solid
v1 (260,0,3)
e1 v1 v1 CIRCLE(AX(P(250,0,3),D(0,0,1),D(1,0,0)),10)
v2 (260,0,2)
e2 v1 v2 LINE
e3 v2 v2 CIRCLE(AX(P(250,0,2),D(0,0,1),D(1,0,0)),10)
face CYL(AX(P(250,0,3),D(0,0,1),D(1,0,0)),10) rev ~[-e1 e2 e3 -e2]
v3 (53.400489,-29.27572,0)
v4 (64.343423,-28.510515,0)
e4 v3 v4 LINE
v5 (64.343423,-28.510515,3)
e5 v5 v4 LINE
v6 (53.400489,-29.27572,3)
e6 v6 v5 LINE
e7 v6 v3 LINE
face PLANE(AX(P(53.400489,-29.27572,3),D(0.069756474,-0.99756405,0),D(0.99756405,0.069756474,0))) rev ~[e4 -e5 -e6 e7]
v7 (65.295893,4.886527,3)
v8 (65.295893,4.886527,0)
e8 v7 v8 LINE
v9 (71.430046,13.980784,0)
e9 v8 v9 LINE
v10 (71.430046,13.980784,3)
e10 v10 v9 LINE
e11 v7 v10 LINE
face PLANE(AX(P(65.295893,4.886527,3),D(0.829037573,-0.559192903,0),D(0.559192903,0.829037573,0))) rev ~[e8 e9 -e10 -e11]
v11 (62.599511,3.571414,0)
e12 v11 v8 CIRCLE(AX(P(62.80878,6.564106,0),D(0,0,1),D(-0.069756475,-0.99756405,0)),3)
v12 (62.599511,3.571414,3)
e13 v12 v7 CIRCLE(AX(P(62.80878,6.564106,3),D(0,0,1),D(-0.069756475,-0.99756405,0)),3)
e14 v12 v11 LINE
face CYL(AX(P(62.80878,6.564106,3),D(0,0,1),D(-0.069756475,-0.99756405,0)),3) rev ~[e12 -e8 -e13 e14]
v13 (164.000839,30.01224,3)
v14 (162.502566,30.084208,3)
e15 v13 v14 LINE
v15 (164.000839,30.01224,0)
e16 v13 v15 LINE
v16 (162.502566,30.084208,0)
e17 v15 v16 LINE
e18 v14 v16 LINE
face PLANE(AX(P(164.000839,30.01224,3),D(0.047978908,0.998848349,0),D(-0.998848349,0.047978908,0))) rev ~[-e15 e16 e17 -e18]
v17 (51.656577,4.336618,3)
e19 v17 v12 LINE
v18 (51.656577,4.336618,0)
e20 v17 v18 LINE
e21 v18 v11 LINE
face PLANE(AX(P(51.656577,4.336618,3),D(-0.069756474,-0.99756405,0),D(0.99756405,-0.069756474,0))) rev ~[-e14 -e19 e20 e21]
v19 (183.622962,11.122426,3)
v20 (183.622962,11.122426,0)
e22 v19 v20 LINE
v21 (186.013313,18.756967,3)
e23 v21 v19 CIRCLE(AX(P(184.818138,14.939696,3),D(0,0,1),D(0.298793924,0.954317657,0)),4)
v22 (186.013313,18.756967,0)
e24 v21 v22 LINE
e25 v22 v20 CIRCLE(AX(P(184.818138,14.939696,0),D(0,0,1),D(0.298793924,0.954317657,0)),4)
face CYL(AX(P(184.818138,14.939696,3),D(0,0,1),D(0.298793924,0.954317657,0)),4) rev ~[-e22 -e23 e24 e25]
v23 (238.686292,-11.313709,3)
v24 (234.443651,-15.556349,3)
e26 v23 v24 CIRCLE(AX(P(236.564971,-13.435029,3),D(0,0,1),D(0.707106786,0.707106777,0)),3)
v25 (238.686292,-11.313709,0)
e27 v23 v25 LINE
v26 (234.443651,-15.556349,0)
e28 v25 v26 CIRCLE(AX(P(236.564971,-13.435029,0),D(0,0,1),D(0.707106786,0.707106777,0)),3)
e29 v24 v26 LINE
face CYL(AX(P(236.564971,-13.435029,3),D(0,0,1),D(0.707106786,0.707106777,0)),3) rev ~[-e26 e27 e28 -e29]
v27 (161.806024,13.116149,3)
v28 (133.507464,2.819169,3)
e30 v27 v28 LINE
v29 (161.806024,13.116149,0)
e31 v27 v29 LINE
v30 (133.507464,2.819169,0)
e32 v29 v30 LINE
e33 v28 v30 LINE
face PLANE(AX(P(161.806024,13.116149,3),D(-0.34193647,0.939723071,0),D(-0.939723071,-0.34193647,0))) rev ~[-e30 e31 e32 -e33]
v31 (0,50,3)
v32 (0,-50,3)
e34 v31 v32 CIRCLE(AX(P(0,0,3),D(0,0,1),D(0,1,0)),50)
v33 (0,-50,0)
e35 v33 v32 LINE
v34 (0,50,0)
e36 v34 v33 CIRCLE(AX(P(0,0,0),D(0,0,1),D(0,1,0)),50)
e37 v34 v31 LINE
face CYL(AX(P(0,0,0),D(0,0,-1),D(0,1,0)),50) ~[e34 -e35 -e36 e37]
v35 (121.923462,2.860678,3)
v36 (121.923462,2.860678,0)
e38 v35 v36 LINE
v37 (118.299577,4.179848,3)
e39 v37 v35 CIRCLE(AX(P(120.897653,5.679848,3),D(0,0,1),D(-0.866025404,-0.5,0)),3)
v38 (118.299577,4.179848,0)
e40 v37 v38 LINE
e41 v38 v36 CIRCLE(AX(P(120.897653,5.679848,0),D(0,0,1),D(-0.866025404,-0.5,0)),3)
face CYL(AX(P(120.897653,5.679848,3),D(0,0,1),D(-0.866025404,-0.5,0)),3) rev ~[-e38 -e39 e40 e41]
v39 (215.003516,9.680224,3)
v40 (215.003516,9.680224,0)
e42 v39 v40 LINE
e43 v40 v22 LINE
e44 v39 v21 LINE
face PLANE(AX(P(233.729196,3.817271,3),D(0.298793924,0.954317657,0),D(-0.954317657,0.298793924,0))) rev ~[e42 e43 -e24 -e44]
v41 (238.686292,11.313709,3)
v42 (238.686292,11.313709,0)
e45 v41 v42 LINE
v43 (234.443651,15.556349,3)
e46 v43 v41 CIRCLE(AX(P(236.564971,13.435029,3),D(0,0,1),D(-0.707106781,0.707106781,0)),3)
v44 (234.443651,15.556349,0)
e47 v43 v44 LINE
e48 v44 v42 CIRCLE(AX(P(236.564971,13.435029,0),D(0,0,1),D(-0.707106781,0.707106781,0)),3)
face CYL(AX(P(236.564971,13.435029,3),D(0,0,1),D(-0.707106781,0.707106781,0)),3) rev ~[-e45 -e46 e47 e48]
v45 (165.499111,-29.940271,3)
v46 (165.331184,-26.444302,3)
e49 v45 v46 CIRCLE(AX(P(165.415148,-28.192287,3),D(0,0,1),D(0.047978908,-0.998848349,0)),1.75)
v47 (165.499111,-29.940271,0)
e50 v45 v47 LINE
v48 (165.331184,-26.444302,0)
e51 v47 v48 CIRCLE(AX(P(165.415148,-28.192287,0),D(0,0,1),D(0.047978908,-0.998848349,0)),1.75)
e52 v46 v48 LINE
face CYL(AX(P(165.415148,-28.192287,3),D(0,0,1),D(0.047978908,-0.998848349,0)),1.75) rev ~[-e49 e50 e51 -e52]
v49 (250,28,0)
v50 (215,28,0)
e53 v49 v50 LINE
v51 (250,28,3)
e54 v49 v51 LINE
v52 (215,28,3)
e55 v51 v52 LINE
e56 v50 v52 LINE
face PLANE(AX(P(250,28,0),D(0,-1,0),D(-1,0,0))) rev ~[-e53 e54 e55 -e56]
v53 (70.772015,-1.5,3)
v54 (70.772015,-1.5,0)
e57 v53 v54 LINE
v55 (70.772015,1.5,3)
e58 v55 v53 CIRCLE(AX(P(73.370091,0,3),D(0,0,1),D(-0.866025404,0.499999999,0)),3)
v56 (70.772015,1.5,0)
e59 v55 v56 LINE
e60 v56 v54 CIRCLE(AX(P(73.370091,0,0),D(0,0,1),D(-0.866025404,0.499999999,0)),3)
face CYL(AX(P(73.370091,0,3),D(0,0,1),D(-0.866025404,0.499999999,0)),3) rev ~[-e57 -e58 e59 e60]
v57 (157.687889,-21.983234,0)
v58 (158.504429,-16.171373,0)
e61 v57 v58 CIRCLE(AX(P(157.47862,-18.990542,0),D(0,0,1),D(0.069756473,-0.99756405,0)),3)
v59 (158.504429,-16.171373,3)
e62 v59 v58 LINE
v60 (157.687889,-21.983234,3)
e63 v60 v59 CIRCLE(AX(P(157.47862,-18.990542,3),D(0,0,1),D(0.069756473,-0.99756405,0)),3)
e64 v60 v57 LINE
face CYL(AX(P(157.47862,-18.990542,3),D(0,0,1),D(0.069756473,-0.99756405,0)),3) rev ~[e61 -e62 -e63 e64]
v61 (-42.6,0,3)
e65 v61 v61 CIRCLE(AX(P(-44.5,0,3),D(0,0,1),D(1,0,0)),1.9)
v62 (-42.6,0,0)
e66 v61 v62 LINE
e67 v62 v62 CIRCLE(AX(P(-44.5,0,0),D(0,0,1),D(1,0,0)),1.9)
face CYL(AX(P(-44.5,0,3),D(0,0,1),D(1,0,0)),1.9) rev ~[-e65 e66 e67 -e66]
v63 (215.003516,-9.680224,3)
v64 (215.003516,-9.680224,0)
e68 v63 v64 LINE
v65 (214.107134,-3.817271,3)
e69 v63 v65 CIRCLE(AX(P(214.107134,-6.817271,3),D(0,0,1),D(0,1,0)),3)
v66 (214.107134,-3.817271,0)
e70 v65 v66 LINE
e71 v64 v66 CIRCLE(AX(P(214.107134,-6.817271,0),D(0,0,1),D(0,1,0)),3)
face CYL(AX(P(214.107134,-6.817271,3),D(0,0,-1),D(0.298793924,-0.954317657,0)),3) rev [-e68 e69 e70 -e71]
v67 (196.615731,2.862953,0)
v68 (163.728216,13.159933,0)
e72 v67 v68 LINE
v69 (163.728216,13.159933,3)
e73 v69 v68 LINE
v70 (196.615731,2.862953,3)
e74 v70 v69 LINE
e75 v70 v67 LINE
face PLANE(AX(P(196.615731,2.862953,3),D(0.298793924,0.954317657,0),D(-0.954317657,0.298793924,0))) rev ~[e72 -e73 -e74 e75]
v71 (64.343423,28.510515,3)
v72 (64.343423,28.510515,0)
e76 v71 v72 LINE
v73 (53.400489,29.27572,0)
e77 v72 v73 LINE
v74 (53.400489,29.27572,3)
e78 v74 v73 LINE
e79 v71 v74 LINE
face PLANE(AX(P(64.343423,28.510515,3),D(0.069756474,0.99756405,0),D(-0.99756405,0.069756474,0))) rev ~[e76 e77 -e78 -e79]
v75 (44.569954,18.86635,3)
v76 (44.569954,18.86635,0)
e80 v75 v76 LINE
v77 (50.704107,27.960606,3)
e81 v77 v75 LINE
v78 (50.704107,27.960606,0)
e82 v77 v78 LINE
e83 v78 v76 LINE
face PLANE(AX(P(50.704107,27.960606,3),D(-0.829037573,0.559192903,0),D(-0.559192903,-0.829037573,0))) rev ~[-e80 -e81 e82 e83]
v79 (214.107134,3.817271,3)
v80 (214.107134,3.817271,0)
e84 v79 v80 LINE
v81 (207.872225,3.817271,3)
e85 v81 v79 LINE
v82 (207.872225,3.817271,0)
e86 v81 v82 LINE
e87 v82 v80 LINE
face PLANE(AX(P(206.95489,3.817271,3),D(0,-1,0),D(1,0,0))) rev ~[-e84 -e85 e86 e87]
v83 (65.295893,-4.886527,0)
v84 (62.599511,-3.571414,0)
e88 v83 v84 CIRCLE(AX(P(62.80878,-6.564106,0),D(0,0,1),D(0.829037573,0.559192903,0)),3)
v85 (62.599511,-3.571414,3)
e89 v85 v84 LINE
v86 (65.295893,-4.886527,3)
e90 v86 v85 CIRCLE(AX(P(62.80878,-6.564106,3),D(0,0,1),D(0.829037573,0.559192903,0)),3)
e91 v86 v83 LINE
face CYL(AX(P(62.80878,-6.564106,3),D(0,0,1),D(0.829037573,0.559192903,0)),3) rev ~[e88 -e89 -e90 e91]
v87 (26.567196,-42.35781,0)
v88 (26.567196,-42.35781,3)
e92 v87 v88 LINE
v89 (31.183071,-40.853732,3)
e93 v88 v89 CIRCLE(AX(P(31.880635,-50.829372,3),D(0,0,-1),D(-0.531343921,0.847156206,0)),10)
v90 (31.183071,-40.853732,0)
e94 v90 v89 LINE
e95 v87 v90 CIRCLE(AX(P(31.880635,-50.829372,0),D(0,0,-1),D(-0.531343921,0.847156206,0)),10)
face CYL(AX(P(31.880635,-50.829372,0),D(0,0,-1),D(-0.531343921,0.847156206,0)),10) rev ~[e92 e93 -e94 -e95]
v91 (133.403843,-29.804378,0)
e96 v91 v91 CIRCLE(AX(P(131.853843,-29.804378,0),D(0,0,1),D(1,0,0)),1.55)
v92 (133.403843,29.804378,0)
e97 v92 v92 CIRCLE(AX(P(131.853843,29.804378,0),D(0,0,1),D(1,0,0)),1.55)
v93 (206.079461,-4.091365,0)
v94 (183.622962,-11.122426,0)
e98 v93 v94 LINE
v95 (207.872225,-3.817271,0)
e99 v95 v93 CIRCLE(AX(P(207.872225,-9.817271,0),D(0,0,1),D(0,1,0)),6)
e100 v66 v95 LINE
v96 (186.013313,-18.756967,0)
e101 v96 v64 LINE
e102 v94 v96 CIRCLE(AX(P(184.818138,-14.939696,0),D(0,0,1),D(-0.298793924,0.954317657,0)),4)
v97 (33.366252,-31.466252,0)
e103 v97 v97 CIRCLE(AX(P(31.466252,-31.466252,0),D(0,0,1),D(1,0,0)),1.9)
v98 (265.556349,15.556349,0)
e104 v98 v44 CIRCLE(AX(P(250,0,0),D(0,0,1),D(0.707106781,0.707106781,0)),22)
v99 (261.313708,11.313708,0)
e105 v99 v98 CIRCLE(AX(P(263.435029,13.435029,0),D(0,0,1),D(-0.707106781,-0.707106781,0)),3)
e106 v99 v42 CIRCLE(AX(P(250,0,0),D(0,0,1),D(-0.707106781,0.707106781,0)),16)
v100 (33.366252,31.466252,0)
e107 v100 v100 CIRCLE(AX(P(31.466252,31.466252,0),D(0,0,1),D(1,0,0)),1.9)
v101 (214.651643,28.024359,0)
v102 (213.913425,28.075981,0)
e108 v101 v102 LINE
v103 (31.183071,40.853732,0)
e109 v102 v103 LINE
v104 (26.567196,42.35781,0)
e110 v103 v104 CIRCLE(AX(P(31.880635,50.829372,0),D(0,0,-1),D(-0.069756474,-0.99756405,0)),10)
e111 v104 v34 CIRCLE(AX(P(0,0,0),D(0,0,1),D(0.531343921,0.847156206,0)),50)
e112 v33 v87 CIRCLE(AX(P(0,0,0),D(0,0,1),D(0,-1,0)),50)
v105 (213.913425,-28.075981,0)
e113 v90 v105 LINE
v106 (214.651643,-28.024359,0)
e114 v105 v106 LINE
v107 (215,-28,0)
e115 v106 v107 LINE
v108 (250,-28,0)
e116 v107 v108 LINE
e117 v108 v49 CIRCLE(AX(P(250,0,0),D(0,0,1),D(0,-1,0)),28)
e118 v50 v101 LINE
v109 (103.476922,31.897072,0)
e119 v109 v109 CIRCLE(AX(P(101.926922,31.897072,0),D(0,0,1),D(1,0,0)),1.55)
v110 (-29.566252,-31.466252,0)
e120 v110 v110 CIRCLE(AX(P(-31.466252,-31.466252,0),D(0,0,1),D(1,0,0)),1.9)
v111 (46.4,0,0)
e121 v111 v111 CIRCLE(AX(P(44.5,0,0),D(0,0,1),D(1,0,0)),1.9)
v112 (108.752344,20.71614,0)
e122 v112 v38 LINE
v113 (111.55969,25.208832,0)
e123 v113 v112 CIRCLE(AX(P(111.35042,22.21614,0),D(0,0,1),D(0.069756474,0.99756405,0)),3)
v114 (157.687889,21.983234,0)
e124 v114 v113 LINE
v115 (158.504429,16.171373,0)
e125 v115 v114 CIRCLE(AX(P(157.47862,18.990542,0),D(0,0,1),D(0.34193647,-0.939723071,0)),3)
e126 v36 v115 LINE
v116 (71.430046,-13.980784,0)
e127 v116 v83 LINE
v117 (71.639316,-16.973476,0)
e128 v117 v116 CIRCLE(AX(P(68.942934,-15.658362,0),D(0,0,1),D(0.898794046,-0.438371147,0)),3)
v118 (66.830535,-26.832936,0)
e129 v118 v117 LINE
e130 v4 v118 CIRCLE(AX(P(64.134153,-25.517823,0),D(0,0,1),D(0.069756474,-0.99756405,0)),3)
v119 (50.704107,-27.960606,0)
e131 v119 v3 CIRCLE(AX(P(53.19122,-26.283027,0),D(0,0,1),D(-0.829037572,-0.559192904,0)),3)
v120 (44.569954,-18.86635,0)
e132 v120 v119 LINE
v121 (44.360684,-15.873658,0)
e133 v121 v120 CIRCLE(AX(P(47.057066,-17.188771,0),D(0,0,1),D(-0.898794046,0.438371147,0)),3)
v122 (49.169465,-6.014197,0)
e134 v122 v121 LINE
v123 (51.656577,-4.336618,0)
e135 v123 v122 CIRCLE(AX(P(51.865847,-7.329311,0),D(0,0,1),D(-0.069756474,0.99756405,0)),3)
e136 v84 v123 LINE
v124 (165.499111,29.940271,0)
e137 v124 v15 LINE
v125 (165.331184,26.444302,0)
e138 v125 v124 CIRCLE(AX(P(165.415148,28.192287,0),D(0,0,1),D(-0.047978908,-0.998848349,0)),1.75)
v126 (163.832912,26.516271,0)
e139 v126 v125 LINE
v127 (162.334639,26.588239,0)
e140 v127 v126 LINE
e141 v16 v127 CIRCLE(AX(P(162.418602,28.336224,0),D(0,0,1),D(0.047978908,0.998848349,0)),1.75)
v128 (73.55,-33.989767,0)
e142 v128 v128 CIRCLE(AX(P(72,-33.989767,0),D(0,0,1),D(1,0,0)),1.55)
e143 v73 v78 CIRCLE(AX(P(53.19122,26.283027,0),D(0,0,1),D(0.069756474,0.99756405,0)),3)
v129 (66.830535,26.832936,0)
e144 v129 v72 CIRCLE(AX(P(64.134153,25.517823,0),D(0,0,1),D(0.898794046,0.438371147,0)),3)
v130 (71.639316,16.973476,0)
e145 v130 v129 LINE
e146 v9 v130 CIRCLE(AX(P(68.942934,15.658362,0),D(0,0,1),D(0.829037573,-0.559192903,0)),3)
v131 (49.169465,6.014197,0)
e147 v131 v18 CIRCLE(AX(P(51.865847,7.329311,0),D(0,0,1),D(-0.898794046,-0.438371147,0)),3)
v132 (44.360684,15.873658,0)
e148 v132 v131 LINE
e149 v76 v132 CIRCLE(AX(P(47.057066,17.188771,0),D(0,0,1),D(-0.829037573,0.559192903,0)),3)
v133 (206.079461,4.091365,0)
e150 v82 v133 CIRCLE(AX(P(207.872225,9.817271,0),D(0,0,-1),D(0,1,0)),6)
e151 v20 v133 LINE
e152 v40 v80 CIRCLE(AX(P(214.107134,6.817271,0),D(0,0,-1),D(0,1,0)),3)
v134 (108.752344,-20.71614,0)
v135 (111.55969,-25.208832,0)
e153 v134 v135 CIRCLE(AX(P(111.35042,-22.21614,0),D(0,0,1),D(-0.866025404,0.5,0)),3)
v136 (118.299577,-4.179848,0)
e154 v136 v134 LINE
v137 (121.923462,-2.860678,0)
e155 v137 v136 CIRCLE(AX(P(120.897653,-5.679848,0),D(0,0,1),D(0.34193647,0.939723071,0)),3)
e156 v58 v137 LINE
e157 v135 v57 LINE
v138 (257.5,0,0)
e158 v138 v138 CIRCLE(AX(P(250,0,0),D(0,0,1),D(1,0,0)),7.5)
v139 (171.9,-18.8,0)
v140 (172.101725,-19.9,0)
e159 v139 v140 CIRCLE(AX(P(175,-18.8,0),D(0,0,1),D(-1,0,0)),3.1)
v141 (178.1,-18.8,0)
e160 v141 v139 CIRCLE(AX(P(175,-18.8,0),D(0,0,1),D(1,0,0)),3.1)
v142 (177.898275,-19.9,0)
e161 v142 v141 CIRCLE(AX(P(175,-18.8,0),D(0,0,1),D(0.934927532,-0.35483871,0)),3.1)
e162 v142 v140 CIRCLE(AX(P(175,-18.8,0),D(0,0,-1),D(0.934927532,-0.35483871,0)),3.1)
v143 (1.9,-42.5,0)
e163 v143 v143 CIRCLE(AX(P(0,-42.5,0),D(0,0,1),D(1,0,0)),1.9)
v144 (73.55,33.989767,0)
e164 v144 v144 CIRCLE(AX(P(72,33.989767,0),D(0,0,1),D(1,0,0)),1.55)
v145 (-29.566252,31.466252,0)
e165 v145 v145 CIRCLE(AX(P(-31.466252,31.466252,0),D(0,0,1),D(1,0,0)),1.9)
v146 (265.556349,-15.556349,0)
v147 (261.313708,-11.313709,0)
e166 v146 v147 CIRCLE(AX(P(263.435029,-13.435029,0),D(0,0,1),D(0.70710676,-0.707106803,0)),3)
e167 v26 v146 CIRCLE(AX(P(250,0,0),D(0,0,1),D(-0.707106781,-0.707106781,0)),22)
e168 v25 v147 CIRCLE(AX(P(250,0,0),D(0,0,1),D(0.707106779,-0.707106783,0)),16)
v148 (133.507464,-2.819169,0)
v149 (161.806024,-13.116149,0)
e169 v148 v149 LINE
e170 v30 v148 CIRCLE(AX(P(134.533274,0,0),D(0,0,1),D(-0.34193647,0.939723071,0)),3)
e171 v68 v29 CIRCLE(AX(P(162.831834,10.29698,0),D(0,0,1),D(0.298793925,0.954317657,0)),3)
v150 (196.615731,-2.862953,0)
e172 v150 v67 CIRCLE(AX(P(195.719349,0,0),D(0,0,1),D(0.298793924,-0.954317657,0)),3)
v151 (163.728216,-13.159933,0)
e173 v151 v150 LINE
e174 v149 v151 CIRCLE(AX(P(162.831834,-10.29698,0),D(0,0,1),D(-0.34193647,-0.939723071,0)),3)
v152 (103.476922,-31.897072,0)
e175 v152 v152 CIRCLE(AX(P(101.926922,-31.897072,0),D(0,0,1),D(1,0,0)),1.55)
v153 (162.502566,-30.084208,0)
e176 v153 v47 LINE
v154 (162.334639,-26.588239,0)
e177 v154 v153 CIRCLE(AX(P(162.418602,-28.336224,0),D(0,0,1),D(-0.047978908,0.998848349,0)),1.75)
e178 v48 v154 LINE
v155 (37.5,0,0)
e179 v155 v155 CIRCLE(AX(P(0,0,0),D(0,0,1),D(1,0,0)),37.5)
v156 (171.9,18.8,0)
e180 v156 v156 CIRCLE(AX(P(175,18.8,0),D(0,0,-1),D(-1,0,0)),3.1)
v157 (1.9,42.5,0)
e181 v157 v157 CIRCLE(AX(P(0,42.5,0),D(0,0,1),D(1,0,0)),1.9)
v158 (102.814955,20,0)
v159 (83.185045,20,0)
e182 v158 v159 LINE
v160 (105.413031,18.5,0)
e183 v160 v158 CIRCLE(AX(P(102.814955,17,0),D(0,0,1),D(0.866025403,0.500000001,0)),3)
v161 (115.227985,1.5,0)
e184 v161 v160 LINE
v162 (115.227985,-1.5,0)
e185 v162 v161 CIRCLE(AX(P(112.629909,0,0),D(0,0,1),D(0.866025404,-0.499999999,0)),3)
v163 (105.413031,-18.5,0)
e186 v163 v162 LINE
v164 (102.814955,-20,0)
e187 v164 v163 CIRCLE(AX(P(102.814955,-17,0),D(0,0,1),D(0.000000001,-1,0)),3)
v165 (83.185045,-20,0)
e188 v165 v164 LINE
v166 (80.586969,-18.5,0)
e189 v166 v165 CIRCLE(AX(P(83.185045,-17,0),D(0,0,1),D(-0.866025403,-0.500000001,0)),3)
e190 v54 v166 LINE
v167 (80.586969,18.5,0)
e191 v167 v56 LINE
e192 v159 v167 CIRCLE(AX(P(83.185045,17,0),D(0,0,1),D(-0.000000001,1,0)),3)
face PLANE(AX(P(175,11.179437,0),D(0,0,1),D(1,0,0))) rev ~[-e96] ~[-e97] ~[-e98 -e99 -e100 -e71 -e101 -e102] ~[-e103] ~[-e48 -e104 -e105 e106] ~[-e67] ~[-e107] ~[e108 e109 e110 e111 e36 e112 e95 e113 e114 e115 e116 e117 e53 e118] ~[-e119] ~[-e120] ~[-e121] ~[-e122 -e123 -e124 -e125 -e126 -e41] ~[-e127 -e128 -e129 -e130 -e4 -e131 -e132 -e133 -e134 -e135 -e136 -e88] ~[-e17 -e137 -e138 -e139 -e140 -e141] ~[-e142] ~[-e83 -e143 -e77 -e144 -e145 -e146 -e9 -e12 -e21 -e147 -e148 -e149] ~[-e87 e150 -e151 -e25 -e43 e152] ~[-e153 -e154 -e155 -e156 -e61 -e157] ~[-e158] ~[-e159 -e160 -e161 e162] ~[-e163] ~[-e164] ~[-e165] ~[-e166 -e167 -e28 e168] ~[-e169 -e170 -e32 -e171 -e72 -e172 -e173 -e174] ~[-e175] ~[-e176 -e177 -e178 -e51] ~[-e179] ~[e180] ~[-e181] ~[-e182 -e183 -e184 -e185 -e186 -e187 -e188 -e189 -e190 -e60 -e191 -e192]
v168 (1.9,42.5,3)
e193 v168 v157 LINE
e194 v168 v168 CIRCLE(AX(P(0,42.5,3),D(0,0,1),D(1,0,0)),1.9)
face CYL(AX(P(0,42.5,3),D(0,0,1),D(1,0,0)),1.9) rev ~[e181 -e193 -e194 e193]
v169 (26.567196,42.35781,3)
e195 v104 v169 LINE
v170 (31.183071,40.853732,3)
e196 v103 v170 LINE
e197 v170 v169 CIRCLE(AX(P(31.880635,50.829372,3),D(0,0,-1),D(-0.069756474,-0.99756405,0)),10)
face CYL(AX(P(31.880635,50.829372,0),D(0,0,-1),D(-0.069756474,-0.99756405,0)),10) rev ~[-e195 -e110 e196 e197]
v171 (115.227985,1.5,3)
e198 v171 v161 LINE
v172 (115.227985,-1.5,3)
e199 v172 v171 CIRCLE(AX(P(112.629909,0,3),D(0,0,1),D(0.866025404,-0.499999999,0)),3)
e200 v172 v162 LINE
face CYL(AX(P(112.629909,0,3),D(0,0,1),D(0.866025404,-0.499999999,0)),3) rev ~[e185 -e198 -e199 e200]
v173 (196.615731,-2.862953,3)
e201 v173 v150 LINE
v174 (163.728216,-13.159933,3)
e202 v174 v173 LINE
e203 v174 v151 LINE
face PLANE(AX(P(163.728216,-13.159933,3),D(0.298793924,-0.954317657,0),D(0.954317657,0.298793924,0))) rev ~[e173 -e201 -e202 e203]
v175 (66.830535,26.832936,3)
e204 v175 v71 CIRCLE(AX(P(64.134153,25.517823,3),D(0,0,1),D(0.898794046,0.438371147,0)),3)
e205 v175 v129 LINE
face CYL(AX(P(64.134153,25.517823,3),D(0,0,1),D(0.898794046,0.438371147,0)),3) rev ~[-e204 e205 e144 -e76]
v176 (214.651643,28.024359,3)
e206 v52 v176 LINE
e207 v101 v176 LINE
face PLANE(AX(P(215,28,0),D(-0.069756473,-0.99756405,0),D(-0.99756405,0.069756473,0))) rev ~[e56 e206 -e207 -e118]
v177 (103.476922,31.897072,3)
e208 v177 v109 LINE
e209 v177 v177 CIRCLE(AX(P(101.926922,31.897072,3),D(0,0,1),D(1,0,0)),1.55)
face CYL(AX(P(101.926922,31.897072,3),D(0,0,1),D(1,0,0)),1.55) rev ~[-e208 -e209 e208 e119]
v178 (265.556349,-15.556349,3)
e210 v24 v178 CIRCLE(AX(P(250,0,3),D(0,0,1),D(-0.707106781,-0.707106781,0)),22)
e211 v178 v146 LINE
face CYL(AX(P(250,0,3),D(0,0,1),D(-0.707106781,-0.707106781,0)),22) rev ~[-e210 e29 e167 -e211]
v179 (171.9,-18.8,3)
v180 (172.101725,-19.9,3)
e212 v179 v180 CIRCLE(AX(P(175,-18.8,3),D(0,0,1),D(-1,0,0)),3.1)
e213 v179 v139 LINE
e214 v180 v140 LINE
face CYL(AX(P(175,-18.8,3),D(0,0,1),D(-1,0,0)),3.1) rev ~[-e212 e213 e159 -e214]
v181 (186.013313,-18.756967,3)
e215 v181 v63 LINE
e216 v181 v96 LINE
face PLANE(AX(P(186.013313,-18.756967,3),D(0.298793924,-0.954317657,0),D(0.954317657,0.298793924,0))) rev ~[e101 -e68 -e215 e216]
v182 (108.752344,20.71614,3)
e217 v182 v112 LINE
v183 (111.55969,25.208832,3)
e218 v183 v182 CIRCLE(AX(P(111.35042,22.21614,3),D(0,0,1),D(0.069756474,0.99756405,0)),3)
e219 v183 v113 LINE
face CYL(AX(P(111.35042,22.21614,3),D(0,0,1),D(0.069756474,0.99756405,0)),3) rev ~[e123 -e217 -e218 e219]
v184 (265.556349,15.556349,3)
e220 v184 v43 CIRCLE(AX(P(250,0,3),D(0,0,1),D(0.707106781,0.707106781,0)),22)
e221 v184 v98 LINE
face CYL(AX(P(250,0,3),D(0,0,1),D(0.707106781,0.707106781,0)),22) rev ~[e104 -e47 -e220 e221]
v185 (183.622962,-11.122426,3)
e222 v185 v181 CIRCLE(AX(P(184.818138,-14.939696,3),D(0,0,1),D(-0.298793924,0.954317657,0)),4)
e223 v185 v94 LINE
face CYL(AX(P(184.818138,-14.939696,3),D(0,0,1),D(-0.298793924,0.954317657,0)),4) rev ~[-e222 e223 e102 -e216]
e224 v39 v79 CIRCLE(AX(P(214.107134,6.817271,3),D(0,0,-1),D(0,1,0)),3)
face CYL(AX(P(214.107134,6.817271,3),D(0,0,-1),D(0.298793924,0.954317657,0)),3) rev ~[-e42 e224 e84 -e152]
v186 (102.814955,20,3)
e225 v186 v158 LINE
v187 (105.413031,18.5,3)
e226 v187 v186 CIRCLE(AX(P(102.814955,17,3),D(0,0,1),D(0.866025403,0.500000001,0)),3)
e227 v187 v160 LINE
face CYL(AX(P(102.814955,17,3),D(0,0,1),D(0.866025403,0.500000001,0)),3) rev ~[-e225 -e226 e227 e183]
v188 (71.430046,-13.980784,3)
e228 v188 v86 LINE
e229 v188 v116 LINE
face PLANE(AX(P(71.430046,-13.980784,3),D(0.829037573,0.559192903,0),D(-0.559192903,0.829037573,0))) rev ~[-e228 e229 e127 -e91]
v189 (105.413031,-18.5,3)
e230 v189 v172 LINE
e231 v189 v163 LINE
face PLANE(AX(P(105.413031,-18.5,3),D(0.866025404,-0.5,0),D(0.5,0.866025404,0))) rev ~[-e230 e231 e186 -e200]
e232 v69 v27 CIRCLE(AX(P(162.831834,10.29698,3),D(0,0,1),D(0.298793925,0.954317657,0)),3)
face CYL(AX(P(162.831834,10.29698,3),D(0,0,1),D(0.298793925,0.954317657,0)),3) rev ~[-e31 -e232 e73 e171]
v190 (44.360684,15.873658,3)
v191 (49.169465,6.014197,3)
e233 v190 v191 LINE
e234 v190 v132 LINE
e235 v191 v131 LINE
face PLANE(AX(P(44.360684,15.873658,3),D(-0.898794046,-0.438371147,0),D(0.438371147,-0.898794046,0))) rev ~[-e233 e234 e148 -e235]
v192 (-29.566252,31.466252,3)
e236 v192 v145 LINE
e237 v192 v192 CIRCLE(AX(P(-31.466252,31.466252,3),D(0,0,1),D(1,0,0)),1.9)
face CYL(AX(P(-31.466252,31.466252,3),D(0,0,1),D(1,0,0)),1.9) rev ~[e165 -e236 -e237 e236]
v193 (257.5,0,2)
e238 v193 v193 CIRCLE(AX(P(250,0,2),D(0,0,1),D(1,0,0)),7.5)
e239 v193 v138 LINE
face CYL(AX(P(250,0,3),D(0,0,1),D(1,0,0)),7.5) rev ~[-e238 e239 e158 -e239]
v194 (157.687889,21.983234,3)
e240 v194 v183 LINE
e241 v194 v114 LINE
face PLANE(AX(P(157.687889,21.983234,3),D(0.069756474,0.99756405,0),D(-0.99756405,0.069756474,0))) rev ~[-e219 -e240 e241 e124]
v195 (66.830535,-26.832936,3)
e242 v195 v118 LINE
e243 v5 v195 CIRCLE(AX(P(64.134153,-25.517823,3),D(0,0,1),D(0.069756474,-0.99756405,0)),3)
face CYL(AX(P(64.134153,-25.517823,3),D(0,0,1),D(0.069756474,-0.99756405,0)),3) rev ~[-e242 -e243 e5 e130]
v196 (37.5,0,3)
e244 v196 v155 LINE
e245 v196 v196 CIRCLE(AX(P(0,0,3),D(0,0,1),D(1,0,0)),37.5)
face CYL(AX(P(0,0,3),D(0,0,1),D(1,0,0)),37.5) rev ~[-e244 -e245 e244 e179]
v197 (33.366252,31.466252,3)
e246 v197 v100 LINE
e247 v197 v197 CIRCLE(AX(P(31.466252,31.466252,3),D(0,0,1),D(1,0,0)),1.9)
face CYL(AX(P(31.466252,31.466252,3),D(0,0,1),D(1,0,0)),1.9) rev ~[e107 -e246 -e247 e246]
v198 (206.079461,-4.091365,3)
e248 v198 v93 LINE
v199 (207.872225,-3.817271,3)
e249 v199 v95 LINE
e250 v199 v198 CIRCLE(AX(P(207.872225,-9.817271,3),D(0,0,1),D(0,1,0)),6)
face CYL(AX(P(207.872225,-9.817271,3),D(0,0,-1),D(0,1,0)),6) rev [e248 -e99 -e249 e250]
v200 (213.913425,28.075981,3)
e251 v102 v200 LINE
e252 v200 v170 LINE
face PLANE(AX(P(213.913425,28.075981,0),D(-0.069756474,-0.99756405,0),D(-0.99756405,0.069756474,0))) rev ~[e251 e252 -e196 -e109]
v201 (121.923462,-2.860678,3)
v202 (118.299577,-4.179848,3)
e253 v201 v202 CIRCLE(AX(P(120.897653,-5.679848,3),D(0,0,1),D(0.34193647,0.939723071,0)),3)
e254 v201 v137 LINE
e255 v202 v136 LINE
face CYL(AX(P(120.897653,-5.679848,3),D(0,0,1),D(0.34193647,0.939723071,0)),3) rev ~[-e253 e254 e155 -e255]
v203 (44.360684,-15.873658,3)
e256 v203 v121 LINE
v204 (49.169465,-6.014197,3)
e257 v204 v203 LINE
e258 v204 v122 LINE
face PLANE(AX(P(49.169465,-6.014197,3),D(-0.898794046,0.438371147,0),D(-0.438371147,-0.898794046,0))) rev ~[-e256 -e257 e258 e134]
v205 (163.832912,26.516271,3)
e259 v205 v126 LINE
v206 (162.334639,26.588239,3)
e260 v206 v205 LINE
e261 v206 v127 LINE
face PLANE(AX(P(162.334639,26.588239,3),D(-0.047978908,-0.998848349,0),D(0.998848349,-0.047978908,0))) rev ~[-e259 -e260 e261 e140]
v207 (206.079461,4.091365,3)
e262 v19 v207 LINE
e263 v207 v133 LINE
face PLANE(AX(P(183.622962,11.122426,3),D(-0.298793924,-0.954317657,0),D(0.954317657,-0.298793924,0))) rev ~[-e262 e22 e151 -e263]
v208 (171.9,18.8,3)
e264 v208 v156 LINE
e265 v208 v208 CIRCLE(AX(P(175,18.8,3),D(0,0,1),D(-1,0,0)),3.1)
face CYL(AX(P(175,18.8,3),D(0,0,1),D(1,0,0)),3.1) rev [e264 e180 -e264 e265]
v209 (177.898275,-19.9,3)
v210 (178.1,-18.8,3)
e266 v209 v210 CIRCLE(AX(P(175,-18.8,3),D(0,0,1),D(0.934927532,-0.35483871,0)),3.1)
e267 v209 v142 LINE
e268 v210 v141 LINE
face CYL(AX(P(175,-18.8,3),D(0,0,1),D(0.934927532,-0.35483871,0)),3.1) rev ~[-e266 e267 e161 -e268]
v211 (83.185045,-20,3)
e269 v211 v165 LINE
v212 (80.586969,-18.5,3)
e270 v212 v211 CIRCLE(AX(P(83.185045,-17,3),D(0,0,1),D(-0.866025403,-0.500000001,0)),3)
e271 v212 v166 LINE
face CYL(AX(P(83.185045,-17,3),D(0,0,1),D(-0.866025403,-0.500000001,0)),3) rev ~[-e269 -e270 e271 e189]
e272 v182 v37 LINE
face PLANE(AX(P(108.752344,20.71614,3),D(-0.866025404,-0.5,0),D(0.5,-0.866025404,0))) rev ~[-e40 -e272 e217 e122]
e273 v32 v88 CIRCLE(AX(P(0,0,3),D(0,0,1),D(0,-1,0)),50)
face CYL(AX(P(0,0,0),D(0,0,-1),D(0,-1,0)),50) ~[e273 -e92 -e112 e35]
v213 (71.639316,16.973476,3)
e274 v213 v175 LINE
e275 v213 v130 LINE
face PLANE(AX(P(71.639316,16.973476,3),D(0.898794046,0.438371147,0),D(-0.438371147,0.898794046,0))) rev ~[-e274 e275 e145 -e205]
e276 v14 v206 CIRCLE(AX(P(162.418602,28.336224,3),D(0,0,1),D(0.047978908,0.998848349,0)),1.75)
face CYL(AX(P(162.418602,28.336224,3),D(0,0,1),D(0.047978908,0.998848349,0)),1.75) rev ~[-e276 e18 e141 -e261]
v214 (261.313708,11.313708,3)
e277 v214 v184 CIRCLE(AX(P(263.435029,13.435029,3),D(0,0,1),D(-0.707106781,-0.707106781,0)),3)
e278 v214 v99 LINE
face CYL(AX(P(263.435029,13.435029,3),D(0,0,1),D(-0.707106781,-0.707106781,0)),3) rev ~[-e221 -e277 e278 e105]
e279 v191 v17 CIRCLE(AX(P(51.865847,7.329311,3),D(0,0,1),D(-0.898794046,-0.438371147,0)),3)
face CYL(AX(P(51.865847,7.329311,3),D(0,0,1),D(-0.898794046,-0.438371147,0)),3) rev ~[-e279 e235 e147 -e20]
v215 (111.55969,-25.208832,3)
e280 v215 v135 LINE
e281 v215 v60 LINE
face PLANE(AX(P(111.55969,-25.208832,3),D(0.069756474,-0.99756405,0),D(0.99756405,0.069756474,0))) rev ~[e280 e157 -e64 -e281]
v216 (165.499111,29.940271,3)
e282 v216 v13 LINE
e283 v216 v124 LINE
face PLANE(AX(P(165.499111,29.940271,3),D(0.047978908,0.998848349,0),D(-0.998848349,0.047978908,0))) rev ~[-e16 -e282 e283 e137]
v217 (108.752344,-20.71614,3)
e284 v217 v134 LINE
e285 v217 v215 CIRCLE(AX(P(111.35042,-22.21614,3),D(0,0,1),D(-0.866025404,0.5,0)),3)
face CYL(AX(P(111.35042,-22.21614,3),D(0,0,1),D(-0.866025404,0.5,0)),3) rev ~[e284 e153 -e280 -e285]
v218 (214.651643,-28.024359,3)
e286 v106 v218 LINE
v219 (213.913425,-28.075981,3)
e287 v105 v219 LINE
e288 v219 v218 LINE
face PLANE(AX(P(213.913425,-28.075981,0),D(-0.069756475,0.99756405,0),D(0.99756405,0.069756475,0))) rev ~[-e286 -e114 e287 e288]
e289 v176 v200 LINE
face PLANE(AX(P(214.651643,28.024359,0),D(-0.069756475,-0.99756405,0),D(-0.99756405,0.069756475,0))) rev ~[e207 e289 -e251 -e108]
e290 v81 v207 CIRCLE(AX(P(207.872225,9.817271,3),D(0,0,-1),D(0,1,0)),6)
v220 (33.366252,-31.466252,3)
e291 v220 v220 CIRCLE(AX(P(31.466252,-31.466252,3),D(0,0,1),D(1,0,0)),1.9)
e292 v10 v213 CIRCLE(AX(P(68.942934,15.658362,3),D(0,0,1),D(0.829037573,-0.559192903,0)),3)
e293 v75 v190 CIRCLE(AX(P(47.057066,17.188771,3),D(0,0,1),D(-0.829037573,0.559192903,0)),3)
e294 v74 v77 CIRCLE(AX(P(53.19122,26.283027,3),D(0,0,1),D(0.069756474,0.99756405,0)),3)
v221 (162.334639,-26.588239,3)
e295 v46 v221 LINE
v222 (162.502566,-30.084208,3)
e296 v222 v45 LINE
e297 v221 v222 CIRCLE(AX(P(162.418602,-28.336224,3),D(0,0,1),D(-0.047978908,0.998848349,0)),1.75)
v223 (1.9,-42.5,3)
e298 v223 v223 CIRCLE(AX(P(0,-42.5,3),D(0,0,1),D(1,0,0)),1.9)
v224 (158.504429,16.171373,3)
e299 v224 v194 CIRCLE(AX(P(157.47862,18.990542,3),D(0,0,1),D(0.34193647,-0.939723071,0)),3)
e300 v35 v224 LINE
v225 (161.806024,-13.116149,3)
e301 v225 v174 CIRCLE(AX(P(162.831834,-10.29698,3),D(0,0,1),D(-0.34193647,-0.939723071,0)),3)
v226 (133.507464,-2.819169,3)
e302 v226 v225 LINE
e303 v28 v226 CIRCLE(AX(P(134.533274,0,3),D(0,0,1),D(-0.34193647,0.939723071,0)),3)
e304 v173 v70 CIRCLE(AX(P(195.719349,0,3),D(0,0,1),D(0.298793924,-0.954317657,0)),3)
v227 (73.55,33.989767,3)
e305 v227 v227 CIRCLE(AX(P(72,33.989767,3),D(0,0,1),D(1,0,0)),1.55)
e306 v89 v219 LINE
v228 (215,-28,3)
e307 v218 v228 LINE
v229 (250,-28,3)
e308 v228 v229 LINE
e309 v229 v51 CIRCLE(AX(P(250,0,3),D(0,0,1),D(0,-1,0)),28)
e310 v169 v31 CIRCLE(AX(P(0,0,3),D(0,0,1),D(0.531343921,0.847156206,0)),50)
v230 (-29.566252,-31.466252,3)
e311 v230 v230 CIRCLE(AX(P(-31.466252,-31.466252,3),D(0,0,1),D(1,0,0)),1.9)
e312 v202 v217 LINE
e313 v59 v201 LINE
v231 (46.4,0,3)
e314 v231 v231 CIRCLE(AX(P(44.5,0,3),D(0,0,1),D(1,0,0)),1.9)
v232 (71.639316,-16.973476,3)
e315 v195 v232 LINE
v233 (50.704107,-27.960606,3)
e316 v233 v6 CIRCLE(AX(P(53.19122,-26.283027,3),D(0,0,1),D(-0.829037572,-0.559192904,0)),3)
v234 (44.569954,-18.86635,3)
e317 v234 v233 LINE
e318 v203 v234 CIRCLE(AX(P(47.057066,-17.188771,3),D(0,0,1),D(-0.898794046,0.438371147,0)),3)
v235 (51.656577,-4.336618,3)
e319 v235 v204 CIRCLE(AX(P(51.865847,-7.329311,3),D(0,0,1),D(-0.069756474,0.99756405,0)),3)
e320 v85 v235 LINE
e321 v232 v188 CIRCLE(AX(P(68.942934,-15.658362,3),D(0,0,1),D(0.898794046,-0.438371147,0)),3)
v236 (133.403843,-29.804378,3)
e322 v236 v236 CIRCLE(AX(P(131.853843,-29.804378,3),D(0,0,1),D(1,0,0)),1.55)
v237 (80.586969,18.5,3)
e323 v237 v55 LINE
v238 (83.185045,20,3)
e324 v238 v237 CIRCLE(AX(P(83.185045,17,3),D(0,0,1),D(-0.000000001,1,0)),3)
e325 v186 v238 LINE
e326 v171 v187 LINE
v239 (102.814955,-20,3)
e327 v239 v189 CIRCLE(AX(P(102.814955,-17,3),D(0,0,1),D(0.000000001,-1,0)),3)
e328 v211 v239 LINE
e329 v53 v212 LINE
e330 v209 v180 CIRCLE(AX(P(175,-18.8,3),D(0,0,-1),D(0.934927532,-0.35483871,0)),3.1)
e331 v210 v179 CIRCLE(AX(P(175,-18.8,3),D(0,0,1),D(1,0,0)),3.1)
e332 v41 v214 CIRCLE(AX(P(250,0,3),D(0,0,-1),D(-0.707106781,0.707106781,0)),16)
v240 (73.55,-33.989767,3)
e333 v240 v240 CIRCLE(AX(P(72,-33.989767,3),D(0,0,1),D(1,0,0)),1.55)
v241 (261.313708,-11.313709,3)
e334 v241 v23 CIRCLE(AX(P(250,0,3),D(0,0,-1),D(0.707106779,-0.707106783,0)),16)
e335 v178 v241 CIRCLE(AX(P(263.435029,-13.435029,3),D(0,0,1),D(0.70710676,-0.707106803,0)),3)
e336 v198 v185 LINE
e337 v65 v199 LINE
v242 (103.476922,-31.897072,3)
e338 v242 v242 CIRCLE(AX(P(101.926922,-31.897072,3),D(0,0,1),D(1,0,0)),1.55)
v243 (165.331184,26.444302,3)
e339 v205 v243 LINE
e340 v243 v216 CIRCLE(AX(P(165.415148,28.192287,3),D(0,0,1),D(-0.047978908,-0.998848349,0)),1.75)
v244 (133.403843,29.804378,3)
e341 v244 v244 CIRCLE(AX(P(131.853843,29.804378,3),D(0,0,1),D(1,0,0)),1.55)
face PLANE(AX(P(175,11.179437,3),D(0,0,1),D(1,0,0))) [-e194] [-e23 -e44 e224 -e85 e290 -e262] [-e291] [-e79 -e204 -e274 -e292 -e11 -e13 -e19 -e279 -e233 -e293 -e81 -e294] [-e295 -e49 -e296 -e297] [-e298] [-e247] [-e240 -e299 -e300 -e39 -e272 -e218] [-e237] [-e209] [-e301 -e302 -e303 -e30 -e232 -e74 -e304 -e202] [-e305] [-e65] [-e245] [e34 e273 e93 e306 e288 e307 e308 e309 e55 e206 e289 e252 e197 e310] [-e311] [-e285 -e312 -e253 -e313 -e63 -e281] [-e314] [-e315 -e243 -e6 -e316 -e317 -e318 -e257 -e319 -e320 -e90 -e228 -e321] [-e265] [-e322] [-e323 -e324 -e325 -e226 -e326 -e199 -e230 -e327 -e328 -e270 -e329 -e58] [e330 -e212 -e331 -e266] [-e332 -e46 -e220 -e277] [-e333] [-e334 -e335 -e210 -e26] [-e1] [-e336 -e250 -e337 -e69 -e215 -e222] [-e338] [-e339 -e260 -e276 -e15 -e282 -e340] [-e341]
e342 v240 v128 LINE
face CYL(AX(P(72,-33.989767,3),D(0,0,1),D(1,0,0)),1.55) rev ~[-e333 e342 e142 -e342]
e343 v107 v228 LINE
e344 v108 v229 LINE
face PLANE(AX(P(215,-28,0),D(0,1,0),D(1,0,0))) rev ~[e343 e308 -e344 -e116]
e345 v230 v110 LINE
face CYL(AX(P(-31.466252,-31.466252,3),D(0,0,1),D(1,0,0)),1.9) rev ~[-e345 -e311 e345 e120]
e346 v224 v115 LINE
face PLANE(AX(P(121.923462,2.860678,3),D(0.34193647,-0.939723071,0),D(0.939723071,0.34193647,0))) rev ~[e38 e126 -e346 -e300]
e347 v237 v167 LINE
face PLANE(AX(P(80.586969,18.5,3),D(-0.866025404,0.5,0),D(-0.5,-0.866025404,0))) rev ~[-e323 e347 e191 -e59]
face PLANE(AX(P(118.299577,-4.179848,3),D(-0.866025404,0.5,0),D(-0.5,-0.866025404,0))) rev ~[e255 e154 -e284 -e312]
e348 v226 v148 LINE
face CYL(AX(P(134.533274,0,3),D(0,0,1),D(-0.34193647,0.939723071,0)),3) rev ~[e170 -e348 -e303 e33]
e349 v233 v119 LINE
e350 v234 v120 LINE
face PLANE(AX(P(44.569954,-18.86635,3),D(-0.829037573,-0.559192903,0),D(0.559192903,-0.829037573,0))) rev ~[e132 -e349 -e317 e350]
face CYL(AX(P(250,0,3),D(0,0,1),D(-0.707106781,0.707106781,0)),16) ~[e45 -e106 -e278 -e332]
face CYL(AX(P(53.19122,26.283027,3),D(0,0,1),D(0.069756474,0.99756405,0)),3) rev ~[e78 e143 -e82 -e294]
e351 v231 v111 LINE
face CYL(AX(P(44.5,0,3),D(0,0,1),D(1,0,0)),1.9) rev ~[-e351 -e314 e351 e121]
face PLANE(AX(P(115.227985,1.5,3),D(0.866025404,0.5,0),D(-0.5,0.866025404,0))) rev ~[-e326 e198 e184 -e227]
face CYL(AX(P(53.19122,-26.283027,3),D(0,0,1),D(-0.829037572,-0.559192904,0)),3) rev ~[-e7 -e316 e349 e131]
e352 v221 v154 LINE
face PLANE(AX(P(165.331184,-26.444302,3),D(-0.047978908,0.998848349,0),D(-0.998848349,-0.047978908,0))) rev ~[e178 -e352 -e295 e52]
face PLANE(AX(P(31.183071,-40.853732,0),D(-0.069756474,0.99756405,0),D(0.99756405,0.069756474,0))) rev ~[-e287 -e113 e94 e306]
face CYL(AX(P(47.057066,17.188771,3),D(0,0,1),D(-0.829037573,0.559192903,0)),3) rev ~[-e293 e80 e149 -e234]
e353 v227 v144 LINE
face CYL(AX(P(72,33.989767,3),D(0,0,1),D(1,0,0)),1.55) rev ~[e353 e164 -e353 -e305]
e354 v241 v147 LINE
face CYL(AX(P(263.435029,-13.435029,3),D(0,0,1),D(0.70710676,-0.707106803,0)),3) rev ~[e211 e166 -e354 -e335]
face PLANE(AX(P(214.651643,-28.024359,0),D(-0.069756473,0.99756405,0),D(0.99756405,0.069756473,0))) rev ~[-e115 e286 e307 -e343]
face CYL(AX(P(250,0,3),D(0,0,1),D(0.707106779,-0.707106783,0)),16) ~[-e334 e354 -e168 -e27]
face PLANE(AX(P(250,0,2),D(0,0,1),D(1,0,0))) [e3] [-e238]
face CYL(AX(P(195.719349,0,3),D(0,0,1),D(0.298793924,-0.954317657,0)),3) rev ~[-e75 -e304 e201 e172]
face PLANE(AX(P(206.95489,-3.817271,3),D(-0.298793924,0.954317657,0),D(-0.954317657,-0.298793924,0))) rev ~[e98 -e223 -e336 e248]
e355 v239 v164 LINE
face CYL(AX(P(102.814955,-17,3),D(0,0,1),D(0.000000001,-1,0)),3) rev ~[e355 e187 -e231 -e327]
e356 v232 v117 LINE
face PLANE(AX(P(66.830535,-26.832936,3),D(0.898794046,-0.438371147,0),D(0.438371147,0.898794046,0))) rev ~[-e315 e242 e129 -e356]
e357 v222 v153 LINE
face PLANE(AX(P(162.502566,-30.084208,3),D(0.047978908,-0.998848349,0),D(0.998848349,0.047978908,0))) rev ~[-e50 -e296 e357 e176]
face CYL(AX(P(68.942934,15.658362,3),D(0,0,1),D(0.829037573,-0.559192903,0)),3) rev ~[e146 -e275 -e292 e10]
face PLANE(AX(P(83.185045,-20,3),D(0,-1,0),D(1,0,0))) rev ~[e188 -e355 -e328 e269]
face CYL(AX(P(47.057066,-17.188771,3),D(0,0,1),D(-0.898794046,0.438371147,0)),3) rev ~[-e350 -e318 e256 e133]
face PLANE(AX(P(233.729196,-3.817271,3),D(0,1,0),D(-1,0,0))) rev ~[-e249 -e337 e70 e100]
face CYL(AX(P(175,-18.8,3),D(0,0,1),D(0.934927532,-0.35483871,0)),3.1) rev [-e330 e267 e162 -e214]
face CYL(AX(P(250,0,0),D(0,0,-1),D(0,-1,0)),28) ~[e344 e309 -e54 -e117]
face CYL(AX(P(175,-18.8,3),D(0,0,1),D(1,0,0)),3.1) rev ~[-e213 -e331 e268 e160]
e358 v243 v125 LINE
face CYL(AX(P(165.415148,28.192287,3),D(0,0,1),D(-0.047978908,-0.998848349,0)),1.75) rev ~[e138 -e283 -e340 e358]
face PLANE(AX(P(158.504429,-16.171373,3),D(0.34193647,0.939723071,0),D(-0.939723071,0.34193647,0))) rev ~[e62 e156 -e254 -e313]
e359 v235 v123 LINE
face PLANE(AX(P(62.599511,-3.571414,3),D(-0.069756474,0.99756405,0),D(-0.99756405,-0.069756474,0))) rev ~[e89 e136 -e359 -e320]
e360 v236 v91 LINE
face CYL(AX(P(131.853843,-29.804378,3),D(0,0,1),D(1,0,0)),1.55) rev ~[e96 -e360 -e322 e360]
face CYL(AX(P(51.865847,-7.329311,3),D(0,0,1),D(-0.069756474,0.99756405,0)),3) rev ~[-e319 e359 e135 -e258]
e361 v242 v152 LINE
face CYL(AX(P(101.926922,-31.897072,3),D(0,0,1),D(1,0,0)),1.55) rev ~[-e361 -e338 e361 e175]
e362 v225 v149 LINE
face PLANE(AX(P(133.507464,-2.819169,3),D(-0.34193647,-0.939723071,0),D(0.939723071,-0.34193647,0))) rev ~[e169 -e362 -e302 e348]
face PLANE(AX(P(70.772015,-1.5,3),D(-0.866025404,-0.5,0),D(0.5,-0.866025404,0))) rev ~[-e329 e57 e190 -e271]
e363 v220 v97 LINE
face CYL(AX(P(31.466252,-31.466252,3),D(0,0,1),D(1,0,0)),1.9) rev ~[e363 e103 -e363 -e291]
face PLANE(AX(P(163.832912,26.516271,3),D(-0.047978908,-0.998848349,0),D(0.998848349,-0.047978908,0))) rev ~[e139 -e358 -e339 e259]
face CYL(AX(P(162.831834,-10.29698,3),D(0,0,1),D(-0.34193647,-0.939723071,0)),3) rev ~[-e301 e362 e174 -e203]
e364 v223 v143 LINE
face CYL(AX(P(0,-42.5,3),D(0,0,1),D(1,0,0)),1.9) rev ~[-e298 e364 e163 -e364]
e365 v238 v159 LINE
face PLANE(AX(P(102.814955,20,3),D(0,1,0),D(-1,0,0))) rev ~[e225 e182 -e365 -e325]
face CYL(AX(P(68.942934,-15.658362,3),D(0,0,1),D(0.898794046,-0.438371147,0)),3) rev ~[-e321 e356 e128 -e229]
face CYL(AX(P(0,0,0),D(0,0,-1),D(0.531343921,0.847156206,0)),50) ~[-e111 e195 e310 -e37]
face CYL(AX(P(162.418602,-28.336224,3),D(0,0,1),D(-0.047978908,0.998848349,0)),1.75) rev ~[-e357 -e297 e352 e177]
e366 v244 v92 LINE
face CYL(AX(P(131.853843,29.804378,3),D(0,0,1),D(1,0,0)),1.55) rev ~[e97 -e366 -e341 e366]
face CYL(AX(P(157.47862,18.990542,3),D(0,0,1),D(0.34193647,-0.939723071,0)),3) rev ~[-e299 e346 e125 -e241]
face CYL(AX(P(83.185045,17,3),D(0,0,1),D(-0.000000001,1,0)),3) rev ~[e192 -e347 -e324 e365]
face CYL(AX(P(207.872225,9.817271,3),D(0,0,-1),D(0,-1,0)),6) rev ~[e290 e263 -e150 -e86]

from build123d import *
from build123d.topology import SkipClean

# Parameters (mm, degrees)
EXTRUDE_1_DEPTH      = 3
SKETCH_3_R           = 7.5
CUT_EXTRUDE_2_DEPTH  = 10
SKETCH_4_R           = 10
CUT_EXTRUDE_3_DEPTH  = 1
SKETCH_5_R           = 1.55
CUT_EXTRUDE_4_DEPTH  = 10
SKETCH_6_R           = 3.1
CUT_EXTRUDE_5_DEPTH  = 10
CUT_EXTRUDE_7_DEPTH  = 9
CUT_EXTRUDE_9_DEPTH  = 10
SKETCH_2_R           = 1.9
SKETCH_2_R_2         = 37.5
CUT_EXTRUDE_12_DEPTH = 10
CUT_EXTRUDE_13_DEPTH = 10
EXTRUDE_2_DEPTH      = 3
CUT_EXTRUDE_14_DEPTH = 10
CUT_EXTRUDE_15_DEPTH = 10
FILLET_1_R           = 3
FILLET_2_R           = 6


with BuildPart() as part:
    # 草图1 → 凸台-拉伸1 (new body)
    with BuildSketch(Plane.XY):
        with BuildLine():
            ThreePointArc((250, -28), (278, 0), (250, 28))
            Line((250, 28), (215.69841539, 28))
            Line((215.69841539, 28), (215.349207695, 28))
            Line((215.349207695, 28), (215, 28))
            Line((215, 28), (214.651642957, 28.024359497))
            Line((214.651642957, 28.024359497), (213.91342496, 28.075980729))
            Line((213.91342496, 28.075980729), (31.183070535, 40.853731859))
            ThreePointArc((31.183070535, 40.853731859), (28.782473703, 41.321407548), (26.56719606, 42.357810301))
            ThreePointArc((26.56719606, 42.357810301), (13.822255332, 48.051485487), (0, 50))
            ThreePointArc((0, 50), (-50, 0), (0, -50))
            ThreePointArc((0, -50), (13.822255332, -48.051485487), (26.56719606, -42.357810301))
            ThreePointArc((26.56719606, -42.357810301), (28.782473703, -41.321407548), (31.183070535, -40.853731859))
            Line((31.183070535, -40.853731859), (213.91342496, -28.075980729))
            Line((213.91342496, -28.075980729), (214.651642957, -28.024359497))
            Line((214.651642957, -28.024359497), (215, -28))
            Line((215, -28), (215.349207695, -28))
            Line((215.349207695, -28), (215.69841539, -28))
            Line((215.69841539, -28), (250, -28))
        make_face()
    extrude(amount=EXTRUDE_1_DEPTH)

    # 草图3 → 切除-拉伸2 (cut)
    with BuildSketch(Plane.XY.offset(3)):
        with Locations((250, 0)):
            Circle(SKETCH_3_R)
    extrude(amount=-CUT_EXTRUDE_2_DEPTH, mode=Mode.SUBTRACT)

    # 草图4 → 切除-拉伸3 (cut)
    with BuildSketch(Plane.XY.offset(3)):
        with Locations((250, 0)):
            Circle(SKETCH_4_R)
    extrude(amount=-CUT_EXTRUDE_3_DEPTH, mode=Mode.SUBTRACT)

    # 草图5 → 切除-拉伸4 (cut)
    with BuildSketch(Plane.XY.offset(3)):
        with Locations((72, 33.989766516)):
            Circle(SKETCH_5_R)
        with Locations((101.926921508, 31.897072303)):
            Circle(SKETCH_5_R)
        with Locations((131.853843016, 29.804378091)):
            Circle(SKETCH_5_R)
        with Locations((131.853843016, -29.804378091)):
            Circle(SKETCH_5_R)
        with Locations((101.926921508, -31.897072303)):
            Circle(SKETCH_5_R)
        with Locations((72, -33.989766516)):
            Circle(SKETCH_5_R)
    extrude(amount=-CUT_EXTRUDE_4_DEPTH, mode=Mode.SUBTRACT)

    # 草图6 → 切除-拉伸5 (cut)
    with BuildSketch(Plane.XY.offset(3)):
        with Locations((175, -21)):
            Circle(SKETCH_6_R)
        with Locations((175, 21)):
            Circle(SKETCH_6_R)
    extrude(amount=-CUT_EXTRUDE_5_DEPTH, mode=Mode.SUBTRACT)

    # 草图8 → 切除-拉伸7 (cut)
    with BuildSketch(Plane.XY.offset(3)):
        with BuildLine():
            ThreePointArc((238.686291502, 11.3137085), (250, 16), (261.313708499, 11.313708499))
            ThreePointArc((261.313708499, 11.313708499), (265.556349186, 11.313708499), (265.556349186, 15.556349186))
            ThreePointArc((265.556349186, 15.556349186), (250, 22), (234.443650814, 15.556349186))
            ThreePointArc((234.443650814, 15.556349186), (234.443650814, 11.313708499), (238.686291502, 11.3137085))
        make_face()
        with BuildLine():
            ThreePointArc((234.443650814, -15.556349186), (249.999999954, -22), (265.556349121, -15.556349251))
            ThreePointArc((265.556349121, -15.556349251), (265.556349203, -11.313708516), (261.313708468, -11.31370853))
            ThreePointArc((261.313708468, -11.31370853), (249.999999987, -16), (238.686291514, -11.313708512))
            ThreePointArc((238.686291514, -11.313708512), (234.44365082, -11.313708493), (234.443650814, -15.556349186))
        make_face()
    extrude(amount=-CUT_EXTRUDE_7_DEPTH, mode=Mode.SUBTRACT)

    # 草图9 → 切除-拉伸9 (cut)
    with BuildSketch(Plane.XY.offset(3)):
        with BuildLine():
            Line((178.1, 21), (178.1, 5))
            ThreePointArc((178.1, 5), (175, 1.9), (171.9, 5))
            Line((171.9, 5), (171.9, 21))
            ThreePointArc((171.9, 21), (175, 24.1), (178.1, 21))
        make_face()
    extrude(amount=-CUT_EXTRUDE_9_DEPTH, mode=Mode.SUBTRACT)

    # 草图2 → 切除-拉伸12 (cut)
    with BuildSketch(Plane.XY.offset(3)):
        with Locations((-31.466251763, 31.466251763)):
            Circle(SKETCH_2_R)
        with Locations((31.466251763, 31.466251763)):
            Circle(SKETCH_2_R)
        with Locations((31.466251763, -31.466251763)):
            Circle(SKETCH_2_R)
        with Locations((-31.466251763, -31.466251763)):
            Circle(SKETCH_2_R)
        with Locations((-44.5, 0)):
            Circle(SKETCH_2_R)
        with Locations((44.5, 0)):
            Circle(SKETCH_2_R)
        Circle(SKETCH_2_R_2)
        with Locations((0, 42.5)):
            Circle(SKETCH_2_R)
        with Locations((0, -42.5)):
            Circle(SKETCH_2_R)
    extrude(amount=-CUT_EXTRUDE_12_DEPTH, mode=Mode.SUBTRACT)

    # 草图11 → 切除-拉伸13 (cut)
    with BuildSketch(Plane.XY.offset(3)):
        with BuildLine():
            ThreePointArc((162.502565585, 30.084208114), (160.670617885, 28.420186592), (162.334639407, 26.588238892))
            Line((162.334639407, 26.588238892), (163.832912222, 26.516270516))
            ThreePointArc((163.832912222, 26.516270516), (162.168890411, 28.348218281), (164.000838503, 30.012239733))
            Line((164.000838503, 30.012239733), (162.502565585, 30.084208114))
        make_face()
        with BuildLine():
            Line((165.499110632, 29.94027139), (164.000838503, 30.012239733))
            ThreePointArc((164.000838503, 30.012239733), (165.664859628, 28.180292001), (163.832912222, 26.516270516))
            Line((163.832912222, 26.516270516), (165.331184454, 26.444302168))
            ThreePointArc((165.331184454, 26.444302168), (167.163132154, 28.10832369), (165.499110632, 29.94027139))
        make_face()
        with BuildLine():
            ThreePointArc((162.334639407, -26.588238892), (160.670617885, -28.420186592), (162.502565585, -30.084208114))
            Line((162.502565585, -30.084208114), (165.499110632, -29.94027139))
            ThreePointArc((165.499110632, -29.94027139), (167.163132154, -28.10832369), (165.331184454, -26.444302168))
            Line((165.331184454, -26.444302168), (162.334639407, -26.588238892))
        make_face()
    extrude(amount=-CUT_EXTRUDE_13_DEPTH, mode=Mode.SUBTRACT)


with BuildPart() as cut_extrude_13_kept_piece:
    # of the separate pieces the step leaves, the one the design keeps (cut_extrude_13_pieces_kept)
    add(part.part.solids().sort_by_distance((31.183070535, -40.853731859, 0))[0])

    # 草图12 → 凸台-拉伸2 (add)
    with BuildSketch(Plane.XY.offset(3)):
        with BuildLine():
            ThreePointArc((171.9, 5), (175, 1.9), (178.1, 5))
            Line((178.1, 5), (178.1, 18.8))
            ThreePointArc((178.1, 18.8), (175, 15.7), (171.9, 18.8))
            Line((171.9, 18.8), (171.9, 5))
        make_face()
        with BuildLine():
            ThreePointArc((171.9, 18.8), (175, 21.9), (178.1, 18.8))
            Line((178.1, 18.8), (178.1, 21))
            ThreePointArc((178.1, 21), (175, 24.1), (171.9, 21))
            Line((171.9, 21), (171.9, 18.8))
        make_face()
        with BuildLine():
            ThreePointArc((172.101724651, -19.9), (175, -24.1), (177.898275349, -19.9))
            ThreePointArc((177.898275349, -19.9), (175, -21.9), (172.101724651, -19.9))
        make_face()
    extrude(amount=-EXTRUDE_2_DEPTH)

    # 草图12<9> → 切除-拉伸14 (cut)
    with SkipClean():  # the faces are left unmerged after this step: merging them gives an invalid solid
        with BuildSketch(Plane.XY.offset(3)):
            with BuildLine():
                ThreePointArc((178.1, -18.8), (175, -15.7), (171.9, -18.8))
                ThreePointArc((171.9, -18.8), (171.950848185, -19.359171895), (172.101724651, -19.9))
                ThreePointArc((172.101724651, -19.9), (175, -17.9), (177.898275349, -19.9))
                ThreePointArc((177.898275349, -19.9), (178.049151815, -19.359171895), (178.1, -18.8))
            make_face()
        extrude(amount=-CUT_EXTRUDE_14_DEPTH, mode=Mode.SUBTRACT)

    # 草图14 → 切除-拉伸15 (cut)
    with SkipClean():  # the faces are left unmerged after this step: merging them gives an invalid solid
        with BuildSketch(Plane.XY.offset(3)):
            with BuildLine():
                ThreePointArc((111.559689545, 25.208832156), (108.806275836, 23.805897798), (108.752343913, 20.716140005))
                Line((108.752343913, 20.716140005), (118.299576733, 4.179847688))
                ThreePointArc((118.299576733, 4.179847688), (119.871467008, 2.86081551), (121.923462354, 2.860678475))
                Line((121.923462354, 2.860678475), (158.504429018, 16.171372861))
                ThreePointArc((158.504429018, 16.171372861), (160.4494424, 19.407929114), (157.687889029, 21.983234225))
                Line((157.687889029, 21.983234225), (111.559689545, 25.208832156))
            make_face()
            with BuildLine():
                ThreePointArc((71.430046304, 13.980783599), (71.935625737, 15.449092888), (71.639315725, 16.97347575))
                Line((71.639315725, 16.97347575), (66.830535433, 26.832936457))
                ThreePointArc((66.830535433, 26.832936457), (65.811732004, 28.004935734), (64.343422715, 28.510515167))
                Line((64.343422715, 28.510515167), (53.400489129, 29.275719626))
                ThreePointArc((53.400489129, 29.275719626), (51.876106267, 28.979409614), (50.70410699, 27.960606186))
                Line((50.70410699, 27.960606186), (44.569953696, 18.866349938))
                ThreePointArc((44.569953696, 18.866349938), (44.064374263, 17.398040649), (44.360684275, 15.873657787))
                Line((44.360684275, 15.873657787), (49.169464567, 6.01419708))
                ThreePointArc((49.169464567, 6.01419708), (50.188267996, 4.842197803), (51.656577285, 4.33661837))
                Line((51.656577285, 4.33661837), (62.599510871, 3.571413911))
                ThreePointArc((62.599510871, 3.571413911), (64.123893733, 3.867723922), (65.29589301, 4.886527351))
                Line((65.29589301, 4.886527351), (71.430046304, 13.980783599))
            make_face()
            with BuildLine():
                ThreePointArc((64.343422715, -28.510515167), (65.811732004, -28.004935734), (66.830535433, -26.832936457))
                Line((66.830535433, -26.832936457), (71.639315725, -16.97347575))
                ThreePointArc((71.639315725, -16.97347575), (71.935625737, -15.449092888), (71.430046304, -13.980783599))
                Line((71.430046304, -13.980783599), (65.29589301, -4.886527351))
                ThreePointArc((65.29589301, -4.886527351), (64.123893733, -3.867723922), (62.599510871, -3.571413911))
                Line((62.599510871, -3.571413911), (51.656577285, -4.33661837))
                ThreePointArc((51.656577285, -4.33661837), (50.188267996, -4.842197803), (49.169464567, -6.01419708))
                Line((49.169464567, -6.01419708), (44.360684275, -15.873657787))
                ThreePointArc((44.360684275, -15.873657787), (44.064374263, -17.398040649), (44.569953696, -18.866349938))
                Line((44.569953696, -18.866349938), (50.70410699, -27.960606186))
                ThreePointArc((50.70410699, -27.960606186), (51.876106267, -28.979409614), (53.400489129, -29.275719626))
                Line((53.400489129, -29.275719626), (64.343422715, -28.510515167))
            make_face()
            with BuildLine():
                ThreePointArc((115.227985364, -1.5), (115.629909152, 0), (115.227985364, 1.5))
                Line((115.227985364, 1.5), (105.413030788, 18.5))
                ThreePointArc((105.413030788, 18.5), (104.314954576, 19.598076211), (102.814954576, 20))
                Line((102.814954576, 20), (83.185045424, 20))
                ThreePointArc((83.185045424, 20), (81.685045424, 19.598076211), (80.586969212, 18.5))
                Line((80.586969212, 18.5), (70.772014636, 1.5))
                ThreePointArc((70.772014636, 1.5), (70.370090848, 0), (70.772014636, -1.5))
                Line((70.772014636, -1.5), (80.586969212, -18.5))
                ThreePointArc((80.586969212, -18.5), (81.685045424, -19.598076211), (83.185045424, -20))
                Line((83.185045424, -20), (102.814954576, -20))
                ThreePointArc((102.814954576, -20), (104.314954576, -19.598076211), (105.413030788, -18.5))
                Line((105.413030788, -18.5), (115.227985364, -1.5))
            make_face()
            with BuildLine():
                Line((111.559689545, -25.208832156), (157.687889029, -21.983234225))
                ThreePointArc((157.687889029, -21.983234225), (160.4494424, -19.407929114), (158.504429018, -16.171372861))
                Line((158.504429018, -16.171372861), (121.923462354, -2.860678475))
                ThreePointArc((121.923462354, -2.860678475), (119.871467008, -2.86081551), (118.299576733, -4.179847688))
                Line((118.299576733, -4.179847688), (108.752343913, -20.716140005))
                ThreePointArc((108.752343913, -20.716140005), (108.806275836, -23.805897798), (111.559689545, -25.208832156))
            make_face()
            with BuildLine():
                Line((161.806024429, 13.116149245), (133.507464465, 2.819169214))
                ThreePointArc((133.507464465, 2.819169214), (131.533273875, 0), (133.507464465, -2.819169214))
                Line((133.507464465, -2.819169214), (161.806024429, -13.116149245))
                ThreePointArc((161.806024429, -13.116149245), (162.763517424, -13.296202075), (163.728215612, -13.159933002))
                Line((163.728215612, -13.159933002), (196.615731246, -2.862952971))
                ThreePointArc((196.615731246, -2.862952971), (198.719349473, 0), (196.615731246, 2.862952971))
                Line((196.615731246, 2.862952971), (163.728215612, 13.159933002))
                ThreePointArc((163.728215612, 13.159933002), (162.763517424, 13.296202075), (161.806024429, 13.116149245))
            make_face()
            with BuildLine():
                Line((233.729196096, 3.817270629), (186.013313238, 18.756966847))
                ThreePointArc((186.013313238, 18.756966847), (181.000866912, 16.134871916), (183.622961843, 11.12242559))
                Line((183.622961843, 11.12242559), (206.954889968, 3.817270629))
                Line((206.954889968, 3.817270629), (233.729196096, 3.817270629))
            make_face()
            with BuildLine():
                Line((186.013313238, -18.756966847), (233.729196096, -3.817270629))
                Line((233.729196096, -3.817270629), (206.954889968, -3.817270629))
                Line((206.954889968, -3.817270629), (183.622961843, -11.12242559))
                ThreePointArc((183.622961843, -11.12242559), (181.000866912, -16.134871916), (186.013313238, -18.756966847))
            make_face()
        extrude(amount=-CUT_EXTRUDE_15_DEPTH, mode=Mode.SUBTRACT)

    # 圆角1
    fillet_1_edges = [cut_extrude_13_kept_piece.edges().sort_by_distance(p)[0] for p in [
        (233.729196096, -3.817270629, 1.5),
        (233.729196096, 3.817270629, 1.5),
    ]]
    fillet(fillet_1_edges, radius=FILLET_1_R)

    # 圆角2
    fillet_2_edges = [cut_extrude_13_kept_piece.edges().sort_by_distance(p)[0] for p in [
        (206.954889968, -3.817270629, 1.5),
        (206.954889968, 3.817270629, 1.5),
    ]]
    fillet(fillet_2_edges, radius=FILLET_2_R)


solid = cut_extrude_13_kept_piece.part
